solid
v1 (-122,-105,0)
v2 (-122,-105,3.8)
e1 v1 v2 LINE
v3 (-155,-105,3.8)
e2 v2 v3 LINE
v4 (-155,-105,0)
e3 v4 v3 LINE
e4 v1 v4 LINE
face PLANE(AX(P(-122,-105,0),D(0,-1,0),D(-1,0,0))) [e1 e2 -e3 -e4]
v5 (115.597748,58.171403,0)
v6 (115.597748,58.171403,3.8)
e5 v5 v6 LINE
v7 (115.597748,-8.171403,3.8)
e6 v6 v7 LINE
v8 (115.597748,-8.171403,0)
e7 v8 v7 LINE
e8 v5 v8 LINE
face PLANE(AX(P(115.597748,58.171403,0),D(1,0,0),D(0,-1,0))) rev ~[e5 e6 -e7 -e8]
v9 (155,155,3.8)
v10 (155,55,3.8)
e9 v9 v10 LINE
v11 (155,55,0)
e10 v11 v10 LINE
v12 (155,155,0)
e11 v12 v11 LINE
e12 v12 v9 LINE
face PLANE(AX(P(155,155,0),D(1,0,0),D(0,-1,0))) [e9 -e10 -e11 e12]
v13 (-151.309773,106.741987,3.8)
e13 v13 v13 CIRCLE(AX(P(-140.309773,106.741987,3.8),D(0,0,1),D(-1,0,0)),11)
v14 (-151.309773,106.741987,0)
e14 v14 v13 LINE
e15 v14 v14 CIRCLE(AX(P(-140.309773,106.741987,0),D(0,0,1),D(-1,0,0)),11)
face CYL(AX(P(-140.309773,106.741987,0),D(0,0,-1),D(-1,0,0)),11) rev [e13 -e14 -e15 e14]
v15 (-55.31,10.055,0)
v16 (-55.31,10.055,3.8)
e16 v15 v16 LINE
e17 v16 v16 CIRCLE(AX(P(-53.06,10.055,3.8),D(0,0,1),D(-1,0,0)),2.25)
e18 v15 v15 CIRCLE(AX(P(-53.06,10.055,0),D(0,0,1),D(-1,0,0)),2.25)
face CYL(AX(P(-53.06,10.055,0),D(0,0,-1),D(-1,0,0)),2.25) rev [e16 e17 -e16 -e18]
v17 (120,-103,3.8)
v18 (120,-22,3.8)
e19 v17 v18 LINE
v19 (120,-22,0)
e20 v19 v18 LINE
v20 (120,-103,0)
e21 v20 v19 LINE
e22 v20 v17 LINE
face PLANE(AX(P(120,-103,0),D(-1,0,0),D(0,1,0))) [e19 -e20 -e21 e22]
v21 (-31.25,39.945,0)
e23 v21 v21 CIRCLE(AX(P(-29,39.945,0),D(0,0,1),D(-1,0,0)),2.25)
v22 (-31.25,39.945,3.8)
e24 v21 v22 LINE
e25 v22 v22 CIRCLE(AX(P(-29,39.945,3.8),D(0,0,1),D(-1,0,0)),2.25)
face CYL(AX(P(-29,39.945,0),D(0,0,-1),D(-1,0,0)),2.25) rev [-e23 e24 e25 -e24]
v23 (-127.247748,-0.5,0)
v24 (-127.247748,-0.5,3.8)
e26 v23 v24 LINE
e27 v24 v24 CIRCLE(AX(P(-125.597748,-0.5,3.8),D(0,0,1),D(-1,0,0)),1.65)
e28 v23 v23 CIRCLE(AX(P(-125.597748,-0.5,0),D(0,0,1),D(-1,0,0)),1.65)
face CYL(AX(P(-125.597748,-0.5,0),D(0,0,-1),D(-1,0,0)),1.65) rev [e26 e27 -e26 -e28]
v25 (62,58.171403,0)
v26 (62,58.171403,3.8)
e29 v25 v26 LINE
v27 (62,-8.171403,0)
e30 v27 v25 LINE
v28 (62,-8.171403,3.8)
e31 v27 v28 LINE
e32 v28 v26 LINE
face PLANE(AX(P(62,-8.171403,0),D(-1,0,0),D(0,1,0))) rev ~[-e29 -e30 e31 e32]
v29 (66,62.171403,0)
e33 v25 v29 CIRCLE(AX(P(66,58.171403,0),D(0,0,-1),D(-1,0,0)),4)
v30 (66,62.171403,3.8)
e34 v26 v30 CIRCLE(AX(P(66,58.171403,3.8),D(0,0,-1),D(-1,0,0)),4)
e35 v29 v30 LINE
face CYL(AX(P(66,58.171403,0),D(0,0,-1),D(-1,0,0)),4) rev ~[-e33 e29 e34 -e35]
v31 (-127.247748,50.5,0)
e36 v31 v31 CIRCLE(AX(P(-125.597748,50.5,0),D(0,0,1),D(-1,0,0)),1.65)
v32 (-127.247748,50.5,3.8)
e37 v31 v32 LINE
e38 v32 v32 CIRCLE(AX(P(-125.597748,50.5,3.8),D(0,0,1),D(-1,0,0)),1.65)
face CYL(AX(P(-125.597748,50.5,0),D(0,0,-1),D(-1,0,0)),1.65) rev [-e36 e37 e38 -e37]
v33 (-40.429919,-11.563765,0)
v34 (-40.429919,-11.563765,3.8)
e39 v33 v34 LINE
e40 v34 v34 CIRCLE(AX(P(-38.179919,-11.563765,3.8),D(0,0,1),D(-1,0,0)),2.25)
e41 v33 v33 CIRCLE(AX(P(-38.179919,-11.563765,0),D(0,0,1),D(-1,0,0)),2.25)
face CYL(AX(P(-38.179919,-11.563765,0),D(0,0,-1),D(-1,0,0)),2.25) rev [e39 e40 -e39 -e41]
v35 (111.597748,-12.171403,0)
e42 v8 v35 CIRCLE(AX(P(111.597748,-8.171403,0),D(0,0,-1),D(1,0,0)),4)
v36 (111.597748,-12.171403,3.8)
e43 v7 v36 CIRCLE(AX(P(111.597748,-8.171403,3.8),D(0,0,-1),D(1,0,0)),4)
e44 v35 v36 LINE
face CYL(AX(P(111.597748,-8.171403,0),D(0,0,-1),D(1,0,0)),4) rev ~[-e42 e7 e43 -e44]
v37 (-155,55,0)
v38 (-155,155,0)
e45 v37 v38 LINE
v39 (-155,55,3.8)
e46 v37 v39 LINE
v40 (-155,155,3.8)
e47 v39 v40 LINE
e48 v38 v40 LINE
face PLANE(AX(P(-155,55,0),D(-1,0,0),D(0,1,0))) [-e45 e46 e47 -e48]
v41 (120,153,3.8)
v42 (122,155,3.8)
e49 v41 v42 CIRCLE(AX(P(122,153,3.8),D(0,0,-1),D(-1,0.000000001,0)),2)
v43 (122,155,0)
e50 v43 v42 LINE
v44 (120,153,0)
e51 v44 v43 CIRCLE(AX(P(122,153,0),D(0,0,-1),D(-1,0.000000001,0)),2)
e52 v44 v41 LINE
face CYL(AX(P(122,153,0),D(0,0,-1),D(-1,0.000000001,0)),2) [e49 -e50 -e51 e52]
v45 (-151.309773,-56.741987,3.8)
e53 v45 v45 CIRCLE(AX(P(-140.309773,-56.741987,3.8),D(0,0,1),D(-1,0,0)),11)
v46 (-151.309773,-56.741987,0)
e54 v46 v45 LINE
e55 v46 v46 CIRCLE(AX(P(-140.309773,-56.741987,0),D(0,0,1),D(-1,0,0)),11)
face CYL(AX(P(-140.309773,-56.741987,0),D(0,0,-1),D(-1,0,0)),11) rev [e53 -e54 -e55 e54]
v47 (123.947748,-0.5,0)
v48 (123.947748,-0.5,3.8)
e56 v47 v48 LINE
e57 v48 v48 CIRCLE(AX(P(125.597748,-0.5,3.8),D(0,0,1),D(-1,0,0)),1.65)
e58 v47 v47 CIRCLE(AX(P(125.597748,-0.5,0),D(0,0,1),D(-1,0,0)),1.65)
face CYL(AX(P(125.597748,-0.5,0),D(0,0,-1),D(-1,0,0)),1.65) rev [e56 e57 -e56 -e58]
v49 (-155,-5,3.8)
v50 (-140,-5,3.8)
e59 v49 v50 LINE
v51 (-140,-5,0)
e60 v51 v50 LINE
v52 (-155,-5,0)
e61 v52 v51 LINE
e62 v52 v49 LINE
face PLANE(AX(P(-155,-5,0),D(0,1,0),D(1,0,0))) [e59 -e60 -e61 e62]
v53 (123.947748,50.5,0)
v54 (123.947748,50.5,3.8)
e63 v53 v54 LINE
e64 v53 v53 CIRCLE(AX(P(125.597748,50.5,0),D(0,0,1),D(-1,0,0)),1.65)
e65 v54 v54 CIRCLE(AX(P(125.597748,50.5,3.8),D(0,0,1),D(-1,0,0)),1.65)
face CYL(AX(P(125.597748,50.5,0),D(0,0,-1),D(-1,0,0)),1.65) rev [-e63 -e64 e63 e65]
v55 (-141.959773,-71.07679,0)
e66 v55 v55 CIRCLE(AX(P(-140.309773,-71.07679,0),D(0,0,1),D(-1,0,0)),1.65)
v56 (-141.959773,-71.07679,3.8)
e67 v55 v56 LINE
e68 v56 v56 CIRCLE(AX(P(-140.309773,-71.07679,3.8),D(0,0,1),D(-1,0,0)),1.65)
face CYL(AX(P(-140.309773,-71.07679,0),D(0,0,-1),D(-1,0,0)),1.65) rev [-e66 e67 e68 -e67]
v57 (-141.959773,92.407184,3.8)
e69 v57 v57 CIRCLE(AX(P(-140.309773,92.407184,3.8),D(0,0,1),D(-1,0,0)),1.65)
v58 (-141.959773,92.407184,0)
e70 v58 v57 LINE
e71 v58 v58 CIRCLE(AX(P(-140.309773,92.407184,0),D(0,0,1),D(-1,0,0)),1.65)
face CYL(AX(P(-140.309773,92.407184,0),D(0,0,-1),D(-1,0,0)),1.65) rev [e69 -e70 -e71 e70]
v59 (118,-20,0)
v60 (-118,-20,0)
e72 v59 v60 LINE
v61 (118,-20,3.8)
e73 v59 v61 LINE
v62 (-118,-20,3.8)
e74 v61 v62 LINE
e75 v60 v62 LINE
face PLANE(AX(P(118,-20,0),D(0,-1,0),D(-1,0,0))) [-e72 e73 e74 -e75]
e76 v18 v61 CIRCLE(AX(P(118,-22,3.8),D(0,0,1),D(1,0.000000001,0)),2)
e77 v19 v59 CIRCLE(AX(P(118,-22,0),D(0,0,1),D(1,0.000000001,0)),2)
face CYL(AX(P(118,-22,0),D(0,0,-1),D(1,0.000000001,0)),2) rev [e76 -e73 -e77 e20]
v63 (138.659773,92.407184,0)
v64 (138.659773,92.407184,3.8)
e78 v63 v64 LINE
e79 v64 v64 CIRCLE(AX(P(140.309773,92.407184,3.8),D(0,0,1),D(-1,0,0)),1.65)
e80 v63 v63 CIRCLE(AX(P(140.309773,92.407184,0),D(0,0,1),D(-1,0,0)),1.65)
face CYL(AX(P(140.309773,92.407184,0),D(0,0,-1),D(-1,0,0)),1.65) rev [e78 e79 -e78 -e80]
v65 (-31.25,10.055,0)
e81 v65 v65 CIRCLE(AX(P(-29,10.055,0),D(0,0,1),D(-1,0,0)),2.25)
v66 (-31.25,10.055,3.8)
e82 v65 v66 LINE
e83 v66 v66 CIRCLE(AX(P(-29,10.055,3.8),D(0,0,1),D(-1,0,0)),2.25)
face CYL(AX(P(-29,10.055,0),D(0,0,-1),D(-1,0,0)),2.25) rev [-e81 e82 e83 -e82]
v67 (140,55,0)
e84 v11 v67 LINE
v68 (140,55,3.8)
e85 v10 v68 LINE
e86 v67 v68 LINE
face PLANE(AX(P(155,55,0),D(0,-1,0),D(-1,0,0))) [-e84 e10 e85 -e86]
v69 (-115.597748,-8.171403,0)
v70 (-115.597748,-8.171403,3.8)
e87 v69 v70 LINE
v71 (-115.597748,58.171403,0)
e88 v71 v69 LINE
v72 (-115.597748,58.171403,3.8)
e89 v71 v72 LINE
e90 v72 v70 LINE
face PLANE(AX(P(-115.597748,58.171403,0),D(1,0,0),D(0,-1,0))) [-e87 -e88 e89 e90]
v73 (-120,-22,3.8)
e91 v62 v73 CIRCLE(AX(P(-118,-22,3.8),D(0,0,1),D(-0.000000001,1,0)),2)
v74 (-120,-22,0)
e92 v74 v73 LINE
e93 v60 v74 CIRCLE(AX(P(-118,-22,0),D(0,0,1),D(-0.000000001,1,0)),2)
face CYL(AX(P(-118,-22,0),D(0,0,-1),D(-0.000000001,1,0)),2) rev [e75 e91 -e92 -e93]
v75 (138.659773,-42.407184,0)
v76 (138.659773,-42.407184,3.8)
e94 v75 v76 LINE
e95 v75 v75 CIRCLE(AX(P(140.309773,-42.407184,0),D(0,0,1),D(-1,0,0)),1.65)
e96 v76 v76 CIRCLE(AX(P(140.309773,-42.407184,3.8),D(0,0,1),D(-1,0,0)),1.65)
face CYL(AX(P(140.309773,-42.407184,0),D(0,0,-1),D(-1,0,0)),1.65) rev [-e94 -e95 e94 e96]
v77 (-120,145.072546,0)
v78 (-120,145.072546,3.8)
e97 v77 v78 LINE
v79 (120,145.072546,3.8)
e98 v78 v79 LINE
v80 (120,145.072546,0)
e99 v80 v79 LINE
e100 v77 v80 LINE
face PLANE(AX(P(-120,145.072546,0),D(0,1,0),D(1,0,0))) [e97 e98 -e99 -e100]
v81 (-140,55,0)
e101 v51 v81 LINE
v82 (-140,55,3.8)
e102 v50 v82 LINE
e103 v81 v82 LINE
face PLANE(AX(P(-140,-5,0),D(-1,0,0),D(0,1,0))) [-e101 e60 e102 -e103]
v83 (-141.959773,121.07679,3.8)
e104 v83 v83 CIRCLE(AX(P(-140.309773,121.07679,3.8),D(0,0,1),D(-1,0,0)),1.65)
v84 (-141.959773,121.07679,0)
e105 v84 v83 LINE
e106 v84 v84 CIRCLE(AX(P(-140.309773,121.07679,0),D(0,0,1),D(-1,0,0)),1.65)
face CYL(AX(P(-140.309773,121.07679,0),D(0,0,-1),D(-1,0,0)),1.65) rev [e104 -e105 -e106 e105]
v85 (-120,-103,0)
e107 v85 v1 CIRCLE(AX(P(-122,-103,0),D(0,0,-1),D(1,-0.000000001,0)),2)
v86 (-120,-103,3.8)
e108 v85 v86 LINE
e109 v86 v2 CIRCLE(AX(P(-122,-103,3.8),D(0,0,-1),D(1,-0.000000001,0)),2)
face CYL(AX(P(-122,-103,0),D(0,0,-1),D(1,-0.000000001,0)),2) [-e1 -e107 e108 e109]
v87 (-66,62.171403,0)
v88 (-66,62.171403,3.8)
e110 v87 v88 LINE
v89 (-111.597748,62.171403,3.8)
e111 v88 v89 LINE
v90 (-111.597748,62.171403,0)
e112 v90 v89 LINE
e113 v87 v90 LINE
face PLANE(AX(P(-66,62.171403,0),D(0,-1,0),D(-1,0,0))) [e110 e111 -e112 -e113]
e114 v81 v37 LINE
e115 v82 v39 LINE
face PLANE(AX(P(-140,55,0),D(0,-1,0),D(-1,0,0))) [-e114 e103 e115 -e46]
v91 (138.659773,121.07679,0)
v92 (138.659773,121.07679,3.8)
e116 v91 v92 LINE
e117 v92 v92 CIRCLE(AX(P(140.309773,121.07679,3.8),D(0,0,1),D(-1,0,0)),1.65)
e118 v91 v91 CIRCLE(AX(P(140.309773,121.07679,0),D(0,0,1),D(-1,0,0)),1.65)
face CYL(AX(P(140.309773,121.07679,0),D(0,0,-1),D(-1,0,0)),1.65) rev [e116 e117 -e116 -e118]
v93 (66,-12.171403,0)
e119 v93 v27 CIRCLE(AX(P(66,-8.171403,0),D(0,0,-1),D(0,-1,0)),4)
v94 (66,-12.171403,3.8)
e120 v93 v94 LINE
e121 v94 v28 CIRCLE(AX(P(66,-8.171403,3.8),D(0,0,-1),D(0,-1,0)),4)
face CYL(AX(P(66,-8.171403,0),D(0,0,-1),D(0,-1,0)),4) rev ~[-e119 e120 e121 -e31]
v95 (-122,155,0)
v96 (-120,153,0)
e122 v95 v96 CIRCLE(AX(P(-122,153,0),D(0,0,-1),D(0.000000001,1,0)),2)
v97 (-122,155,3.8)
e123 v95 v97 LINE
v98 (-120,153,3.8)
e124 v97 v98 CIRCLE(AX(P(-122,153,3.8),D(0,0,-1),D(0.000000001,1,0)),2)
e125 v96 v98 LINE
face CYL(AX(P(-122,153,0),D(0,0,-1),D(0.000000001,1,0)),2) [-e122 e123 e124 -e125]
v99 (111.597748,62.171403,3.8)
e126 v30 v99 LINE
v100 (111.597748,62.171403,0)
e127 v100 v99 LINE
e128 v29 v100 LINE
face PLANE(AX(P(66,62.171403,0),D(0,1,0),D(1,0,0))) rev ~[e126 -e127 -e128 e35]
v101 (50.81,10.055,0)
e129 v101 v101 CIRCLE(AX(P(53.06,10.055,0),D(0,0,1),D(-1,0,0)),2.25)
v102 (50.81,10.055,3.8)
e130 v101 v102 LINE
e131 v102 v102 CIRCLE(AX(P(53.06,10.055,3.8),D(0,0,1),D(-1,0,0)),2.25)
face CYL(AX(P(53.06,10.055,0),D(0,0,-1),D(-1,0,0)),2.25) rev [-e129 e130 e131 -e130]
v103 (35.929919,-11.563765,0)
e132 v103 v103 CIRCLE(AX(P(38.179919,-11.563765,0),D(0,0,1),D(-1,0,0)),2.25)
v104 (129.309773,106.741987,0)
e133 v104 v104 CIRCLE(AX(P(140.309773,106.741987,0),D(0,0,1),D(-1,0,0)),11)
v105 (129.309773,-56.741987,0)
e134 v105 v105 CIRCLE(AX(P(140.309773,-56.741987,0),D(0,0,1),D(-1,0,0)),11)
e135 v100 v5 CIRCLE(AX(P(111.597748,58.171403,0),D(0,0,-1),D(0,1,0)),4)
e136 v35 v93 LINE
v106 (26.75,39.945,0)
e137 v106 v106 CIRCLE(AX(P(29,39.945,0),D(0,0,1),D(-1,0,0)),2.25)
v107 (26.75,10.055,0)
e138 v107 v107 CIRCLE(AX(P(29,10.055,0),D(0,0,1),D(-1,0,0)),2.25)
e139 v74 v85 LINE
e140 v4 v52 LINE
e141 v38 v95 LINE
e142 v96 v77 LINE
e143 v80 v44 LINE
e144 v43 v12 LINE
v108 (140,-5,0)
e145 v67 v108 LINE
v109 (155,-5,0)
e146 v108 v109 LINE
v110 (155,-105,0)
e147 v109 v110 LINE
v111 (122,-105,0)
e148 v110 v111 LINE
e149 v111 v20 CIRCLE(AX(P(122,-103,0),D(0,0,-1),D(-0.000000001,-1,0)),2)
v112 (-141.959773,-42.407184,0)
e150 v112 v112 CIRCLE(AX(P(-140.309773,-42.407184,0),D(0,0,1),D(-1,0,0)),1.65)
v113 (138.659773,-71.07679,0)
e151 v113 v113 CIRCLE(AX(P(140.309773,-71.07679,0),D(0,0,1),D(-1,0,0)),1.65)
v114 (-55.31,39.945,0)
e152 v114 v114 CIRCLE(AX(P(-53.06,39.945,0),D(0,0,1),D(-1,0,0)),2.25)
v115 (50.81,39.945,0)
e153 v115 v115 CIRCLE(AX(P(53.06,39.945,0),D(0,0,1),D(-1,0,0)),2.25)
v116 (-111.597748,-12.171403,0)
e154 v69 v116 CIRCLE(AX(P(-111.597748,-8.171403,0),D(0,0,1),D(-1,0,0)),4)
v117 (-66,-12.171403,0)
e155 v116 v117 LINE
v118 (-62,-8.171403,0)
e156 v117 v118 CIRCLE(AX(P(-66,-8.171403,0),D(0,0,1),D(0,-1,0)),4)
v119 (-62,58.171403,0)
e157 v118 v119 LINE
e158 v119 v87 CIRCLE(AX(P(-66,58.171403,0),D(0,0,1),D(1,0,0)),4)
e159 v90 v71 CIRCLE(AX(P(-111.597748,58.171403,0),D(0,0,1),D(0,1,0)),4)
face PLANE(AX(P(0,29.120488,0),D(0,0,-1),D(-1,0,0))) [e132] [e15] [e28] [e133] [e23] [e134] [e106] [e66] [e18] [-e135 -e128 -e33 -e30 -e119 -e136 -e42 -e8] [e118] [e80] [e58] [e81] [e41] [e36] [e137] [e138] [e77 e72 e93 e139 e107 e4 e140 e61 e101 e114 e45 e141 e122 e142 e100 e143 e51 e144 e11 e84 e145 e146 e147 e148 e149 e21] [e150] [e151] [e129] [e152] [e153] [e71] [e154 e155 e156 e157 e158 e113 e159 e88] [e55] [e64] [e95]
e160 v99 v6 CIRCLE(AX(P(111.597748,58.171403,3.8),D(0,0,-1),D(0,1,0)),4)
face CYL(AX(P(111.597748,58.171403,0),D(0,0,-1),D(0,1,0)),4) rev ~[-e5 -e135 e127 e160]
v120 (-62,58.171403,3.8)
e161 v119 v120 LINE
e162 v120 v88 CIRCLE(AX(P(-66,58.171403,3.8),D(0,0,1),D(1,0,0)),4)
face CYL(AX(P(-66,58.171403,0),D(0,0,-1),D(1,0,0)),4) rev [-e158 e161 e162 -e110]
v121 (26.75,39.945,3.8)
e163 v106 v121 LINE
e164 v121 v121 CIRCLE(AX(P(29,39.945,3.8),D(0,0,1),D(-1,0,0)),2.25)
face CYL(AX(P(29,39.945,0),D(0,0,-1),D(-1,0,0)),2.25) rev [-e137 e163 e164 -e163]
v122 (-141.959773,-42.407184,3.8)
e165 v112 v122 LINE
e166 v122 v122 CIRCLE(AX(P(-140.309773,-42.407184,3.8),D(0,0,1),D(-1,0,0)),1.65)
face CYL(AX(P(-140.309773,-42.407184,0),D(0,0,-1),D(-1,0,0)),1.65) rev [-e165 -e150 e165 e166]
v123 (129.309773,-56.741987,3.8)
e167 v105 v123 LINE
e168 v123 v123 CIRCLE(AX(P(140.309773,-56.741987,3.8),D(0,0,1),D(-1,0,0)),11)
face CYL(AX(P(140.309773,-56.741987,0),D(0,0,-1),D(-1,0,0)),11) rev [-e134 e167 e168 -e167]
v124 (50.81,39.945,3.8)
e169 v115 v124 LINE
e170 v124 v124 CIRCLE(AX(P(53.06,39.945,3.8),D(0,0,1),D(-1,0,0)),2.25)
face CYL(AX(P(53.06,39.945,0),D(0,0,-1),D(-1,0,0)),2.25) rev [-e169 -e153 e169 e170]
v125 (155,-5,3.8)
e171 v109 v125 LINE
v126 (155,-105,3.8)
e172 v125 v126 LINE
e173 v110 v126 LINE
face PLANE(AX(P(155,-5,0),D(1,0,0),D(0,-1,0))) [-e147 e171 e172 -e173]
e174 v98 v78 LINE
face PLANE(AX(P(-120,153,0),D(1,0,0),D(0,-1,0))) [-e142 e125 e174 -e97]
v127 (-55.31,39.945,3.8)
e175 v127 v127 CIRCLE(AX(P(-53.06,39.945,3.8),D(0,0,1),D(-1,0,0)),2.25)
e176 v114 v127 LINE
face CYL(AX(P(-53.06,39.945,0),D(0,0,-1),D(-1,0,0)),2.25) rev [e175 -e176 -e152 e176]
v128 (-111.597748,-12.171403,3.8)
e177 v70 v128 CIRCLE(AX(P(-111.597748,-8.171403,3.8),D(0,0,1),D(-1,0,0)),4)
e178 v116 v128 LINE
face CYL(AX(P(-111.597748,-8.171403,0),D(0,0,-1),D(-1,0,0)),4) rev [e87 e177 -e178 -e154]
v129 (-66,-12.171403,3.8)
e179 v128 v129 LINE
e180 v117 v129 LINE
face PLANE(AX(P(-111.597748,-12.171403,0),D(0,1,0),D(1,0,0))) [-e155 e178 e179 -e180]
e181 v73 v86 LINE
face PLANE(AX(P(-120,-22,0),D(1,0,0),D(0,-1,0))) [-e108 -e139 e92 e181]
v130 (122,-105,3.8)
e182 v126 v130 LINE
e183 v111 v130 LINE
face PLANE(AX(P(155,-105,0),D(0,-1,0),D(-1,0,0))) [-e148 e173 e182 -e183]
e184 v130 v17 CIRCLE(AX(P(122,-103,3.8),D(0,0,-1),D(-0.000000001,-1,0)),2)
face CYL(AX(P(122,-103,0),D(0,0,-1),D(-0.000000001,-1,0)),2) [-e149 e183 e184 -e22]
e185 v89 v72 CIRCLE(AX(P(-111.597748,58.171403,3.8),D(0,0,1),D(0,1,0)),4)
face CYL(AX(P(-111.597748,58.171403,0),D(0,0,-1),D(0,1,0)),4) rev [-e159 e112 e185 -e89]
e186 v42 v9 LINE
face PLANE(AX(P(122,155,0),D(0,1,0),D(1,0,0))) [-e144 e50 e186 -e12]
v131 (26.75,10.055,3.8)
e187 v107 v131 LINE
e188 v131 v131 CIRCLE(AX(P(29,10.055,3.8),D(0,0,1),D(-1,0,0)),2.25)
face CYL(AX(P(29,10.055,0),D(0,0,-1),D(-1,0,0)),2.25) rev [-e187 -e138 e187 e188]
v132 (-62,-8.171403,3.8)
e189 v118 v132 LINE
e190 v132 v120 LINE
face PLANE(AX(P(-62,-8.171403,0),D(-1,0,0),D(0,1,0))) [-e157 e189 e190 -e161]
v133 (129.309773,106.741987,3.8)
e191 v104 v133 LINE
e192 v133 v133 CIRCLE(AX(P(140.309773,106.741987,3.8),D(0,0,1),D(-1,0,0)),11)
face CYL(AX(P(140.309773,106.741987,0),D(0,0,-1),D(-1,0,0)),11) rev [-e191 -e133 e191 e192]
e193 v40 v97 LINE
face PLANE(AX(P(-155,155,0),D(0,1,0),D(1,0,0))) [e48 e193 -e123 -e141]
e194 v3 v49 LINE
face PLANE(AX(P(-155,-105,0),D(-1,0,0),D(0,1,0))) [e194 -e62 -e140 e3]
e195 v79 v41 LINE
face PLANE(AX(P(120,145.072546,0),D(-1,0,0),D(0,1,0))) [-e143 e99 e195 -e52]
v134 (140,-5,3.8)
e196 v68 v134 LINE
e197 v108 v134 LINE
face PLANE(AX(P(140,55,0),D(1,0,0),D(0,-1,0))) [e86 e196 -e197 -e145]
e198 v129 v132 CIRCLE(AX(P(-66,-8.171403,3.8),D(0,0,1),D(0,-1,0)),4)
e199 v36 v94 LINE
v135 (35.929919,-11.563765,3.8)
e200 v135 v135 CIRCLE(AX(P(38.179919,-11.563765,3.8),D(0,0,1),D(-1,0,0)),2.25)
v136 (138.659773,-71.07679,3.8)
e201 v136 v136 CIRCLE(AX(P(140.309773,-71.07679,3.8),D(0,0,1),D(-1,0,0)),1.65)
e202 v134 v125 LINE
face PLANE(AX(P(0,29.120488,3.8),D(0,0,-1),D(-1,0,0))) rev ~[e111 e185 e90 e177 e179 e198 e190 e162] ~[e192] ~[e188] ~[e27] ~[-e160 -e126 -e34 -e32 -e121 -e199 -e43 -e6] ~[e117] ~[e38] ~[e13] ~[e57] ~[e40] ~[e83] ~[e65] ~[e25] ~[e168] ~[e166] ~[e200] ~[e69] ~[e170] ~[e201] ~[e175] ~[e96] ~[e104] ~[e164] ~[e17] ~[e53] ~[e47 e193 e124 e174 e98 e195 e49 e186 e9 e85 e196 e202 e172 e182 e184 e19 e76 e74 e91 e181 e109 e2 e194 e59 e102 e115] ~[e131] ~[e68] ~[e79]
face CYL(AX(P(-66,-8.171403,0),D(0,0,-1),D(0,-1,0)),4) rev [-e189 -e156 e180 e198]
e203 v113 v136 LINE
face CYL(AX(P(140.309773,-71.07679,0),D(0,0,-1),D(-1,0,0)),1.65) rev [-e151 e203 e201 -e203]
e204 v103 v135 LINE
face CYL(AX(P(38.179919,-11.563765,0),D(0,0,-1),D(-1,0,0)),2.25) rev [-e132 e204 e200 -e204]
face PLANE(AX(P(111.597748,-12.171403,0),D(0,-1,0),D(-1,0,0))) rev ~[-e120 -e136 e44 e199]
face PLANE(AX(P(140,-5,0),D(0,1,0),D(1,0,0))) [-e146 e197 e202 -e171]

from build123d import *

# Parameters (mm, degrees)
SKETCH2_R           = 1.65
SKETCH2_R_2         = 11
SKETCH2_R_3         = 2.25
BOSS_EXTRUDE1_DEPTH = 3.8


with BuildPart() as part:
    # Sketch2 → Boss-Extrude1 (new body)
    with BuildSketch(Plane.XY):
        with BuildLine():
            Line((-155, 155), (-122, 155))
            ThreePointArc((-122, 155), (-120.585786438, 154.414213562), (-120, 153))
            Line((-120, 153), (-120, 145.072545974))
            Line((-120, 145.072545974), (120, 145.072545974))
            Line((120, 145.072545974), (120, 153))
            ThreePointArc((120, 153), (120.585786438, 154.414213562), (122, 155))
            Line((122, 155), (155, 155))
            Line((155, 155), (155, 55))
            Line((155, 55), (140, 55))
            Line((140, 55), (140, -5))
            Line((140, -5), (155, -5))
            Line((155, -5), (155, -105))
            Line((155, -105), (122, -105))
            ThreePointArc((122, -105), (120.585786438, -104.414213562), (120, -103))
            Line((120, -103), (120, -22))
            ThreePointArc((120, -22), (119.414213562, -20.585786438), (118, -20))
            Line((118, -20), (-118, -20))
            ThreePointArc((-118, -20), (-119.414213562, -20.585786438), (-120, -22))
            Line((-120, -22), (-120, -103))
            ThreePointArc((-120, -103), (-120.585786438, -104.414213562), (-122, -105))
            Line((-122, -105), (-155, -105))
            Line((-155, -105), (-155, -5))
            Line((-155, -5), (-140, -5))
            Line((-140, -5), (-140, 55))
            Line((-140, 55), (-155, 55))
            Line((-155, 55), (-155, 155))
        make_face()
        with Locations(Location((-140.309773495, 121.076789794, 0), (0, 0, 180))):
            Circle(SKETCH2_R, mode=Mode.SUBTRACT)
        with Locations(Location((-140.309773495, 92.407184142, 0), (0, 0, 180))):
            Circle(SKETCH2_R, mode=Mode.SUBTRACT)
        with Locations(Location((140.309773495, 121.076789794, 0), (0, 0, 180))):
            Circle(SKETCH2_R, mode=Mode.SUBTRACT)
        with Locations(Location((140.309773495, 92.407184142, 0), (0, 0, 180))):
            Circle(SKETCH2_R, mode=Mode.SUBTRACT)
        with Locations(Location((140.309773495, 106.741986968, 0), (0, 0, 180))):
            Circle(SKETCH2_R_2, mode=Mode.SUBTRACT)
        with Locations(Location((-140.309773495, 106.741986968, 0), (0, 0, 180))):
            Circle(SKETCH2_R_2, mode=Mode.SUBTRACT)
        with Locations(Location((125.59774802, -0.5, 0), (0, 0, 180))):
            Circle(SKETCH2_R, mode=Mode.SUBTRACT)
        with Locations(Location((125.59774802, 50.5, 0), (0, 0, 180))):
            Circle(SKETCH2_R, mode=Mode.SUBTRACT)
        with Locations(Location((-125.59774802, -0.5, 0), (0, 0, 180))):
            Circle(SKETCH2_R, mode=Mode.SUBTRACT)
        with Locations(Location((-125.59774802, 50.5, 0), (0, 0, 180))):
            Circle(SKETCH2_R, mode=Mode.SUBTRACT)
        with Locations(Location((-29, 10.055, 0), (0, 0, 180))):
            Circle(SKETCH2_R_3, mode=Mode.SUBTRACT)
        with Locations(Location((-29, 39.945, 0), (0, 0, 180))):
            Circle(SKETCH2_R_3, mode=Mode.SUBTRACT)
        with Locations(Location((-53.06, 39.945, 0), (0, 0, 180))):
            Circle(SKETCH2_R_3, mode=Mode.SUBTRACT)
        with Locations(Location((-53.06, 10.055, 0), (0, 0, 180))):
            Circle(SKETCH2_R_3, mode=Mode.SUBTRACT)
        with Locations(Location((53.06, 10.055, 0), (0, 0, 180))):
            Circle(SKETCH2_R_3, mode=Mode.SUBTRACT)
        with Locations(Location((29, 10.055, 0), (0, 0, 180))):
            Circle(SKETCH2_R_3, mode=Mode.SUBTRACT)
        with Locations(Location((29, 39.945, 0), (0, 0, 180))):
            Circle(SKETCH2_R_3, mode=Mode.SUBTRACT)
        with Locations(Location((53.06, 39.945, 0), (0, 0, 180))):
            Circle(SKETCH2_R_3, mode=Mode.SUBTRACT)
        with Locations(Location((140.309773495, -71.076789794, 0), (0, 0, 180))):
            Circle(SKETCH2_R, mode=Mode.SUBTRACT)
        with Locations(Location((140.309773495, -42.407184142, 0), (0, 0, 180))):
            Circle(SKETCH2_R, mode=Mode.SUBTRACT)
        with Locations(Location((140.309773495, -56.741986968, 0), (0, 0, 180))):
            Circle(SKETCH2_R_2, mode=Mode.SUBTRACT)
        with Locations(Location((-140.309773495, -56.741986968, 0), (0, 0, 180))):
            Circle(SKETCH2_R_2, mode=Mode.SUBTRACT)
        with Locations(Location((-140.309773495, -42.407184142, 0), (0, 0, 180))):
            Circle(SKETCH2_R, mode=Mode.SUBTRACT)
        with Locations(Location((-140.309773495, -71.076789794, 0), (0, 0, 180))):
            Circle(SKETCH2_R, mode=Mode.SUBTRACT)
        with Locations(Location((38.179918963, -11.563765186, 0), (0, 0, 180))):
            Circle(SKETCH2_R_3, mode=Mode.SUBTRACT)
        with Locations(Location((-38.179918963, -11.563765186, 0), (0, 0, 180))):
            Circle(SKETCH2_R_3, mode=Mode.SUBTRACT)
        with BuildLine():
            Line((-66, 62.171403079), (-111.59774802, 62.171403079))
            ThreePointArc((-111.59774802, 62.171403079), (-114.426175145, 60.999830204), (-115.59774802, 58.171403079))
            Line((-115.59774802, 58.171403079), (-115.59774802, -8.171403079))
            ThreePointArc((-115.59774802, -8.171403079), (-114.426175145, -10.999830204), (-111.59774802, -12.171403079))
            Line((-111.59774802, -12.171403079), (-66, -12.171403079))
            ThreePointArc((-66, -12.171403079), (-63.171572875, -10.999830204), (-62, -8.171403079))
            Line((-62, -8.171403079), (-62, 58.171403079))
            ThreePointArc((-62, 58.171403079), (-63.171572875, 60.999830204), (-66, 62.171403079))
        make_face(mode=Mode.SUBTRACT)
        with BuildLine():
            Line((66, 62.171403079), (111.59774802, 62.171403079))
            ThreePointArc((111.59774802, 62.171403079), (114.426175145, 60.999830204), (115.59774802, 58.171403079))
            Line((115.59774802, 58.171403079), (115.59774802, -8.171403079))
            ThreePointArc((115.59774802, -8.171403079), (114.426175145, -10.999830204), (111.59774802, -12.171403079))
            Line((111.59774802, -12.171403079), (66, -12.171403079))
            ThreePointArc((66, -12.171403079), (63.171572875, -10.999830204), (62, -8.171403079))
            Line((62, -8.171403079), (62, 58.171403079))
            ThreePointArc((62, 58.171403079), (63.171572875, 60.999830204), (66, 62.171403079))
        make_face(mode=Mode.SUBTRACT)
    extrude(amount=BOSS_EXTRUDE1_DEPTH)


solid = part.part
